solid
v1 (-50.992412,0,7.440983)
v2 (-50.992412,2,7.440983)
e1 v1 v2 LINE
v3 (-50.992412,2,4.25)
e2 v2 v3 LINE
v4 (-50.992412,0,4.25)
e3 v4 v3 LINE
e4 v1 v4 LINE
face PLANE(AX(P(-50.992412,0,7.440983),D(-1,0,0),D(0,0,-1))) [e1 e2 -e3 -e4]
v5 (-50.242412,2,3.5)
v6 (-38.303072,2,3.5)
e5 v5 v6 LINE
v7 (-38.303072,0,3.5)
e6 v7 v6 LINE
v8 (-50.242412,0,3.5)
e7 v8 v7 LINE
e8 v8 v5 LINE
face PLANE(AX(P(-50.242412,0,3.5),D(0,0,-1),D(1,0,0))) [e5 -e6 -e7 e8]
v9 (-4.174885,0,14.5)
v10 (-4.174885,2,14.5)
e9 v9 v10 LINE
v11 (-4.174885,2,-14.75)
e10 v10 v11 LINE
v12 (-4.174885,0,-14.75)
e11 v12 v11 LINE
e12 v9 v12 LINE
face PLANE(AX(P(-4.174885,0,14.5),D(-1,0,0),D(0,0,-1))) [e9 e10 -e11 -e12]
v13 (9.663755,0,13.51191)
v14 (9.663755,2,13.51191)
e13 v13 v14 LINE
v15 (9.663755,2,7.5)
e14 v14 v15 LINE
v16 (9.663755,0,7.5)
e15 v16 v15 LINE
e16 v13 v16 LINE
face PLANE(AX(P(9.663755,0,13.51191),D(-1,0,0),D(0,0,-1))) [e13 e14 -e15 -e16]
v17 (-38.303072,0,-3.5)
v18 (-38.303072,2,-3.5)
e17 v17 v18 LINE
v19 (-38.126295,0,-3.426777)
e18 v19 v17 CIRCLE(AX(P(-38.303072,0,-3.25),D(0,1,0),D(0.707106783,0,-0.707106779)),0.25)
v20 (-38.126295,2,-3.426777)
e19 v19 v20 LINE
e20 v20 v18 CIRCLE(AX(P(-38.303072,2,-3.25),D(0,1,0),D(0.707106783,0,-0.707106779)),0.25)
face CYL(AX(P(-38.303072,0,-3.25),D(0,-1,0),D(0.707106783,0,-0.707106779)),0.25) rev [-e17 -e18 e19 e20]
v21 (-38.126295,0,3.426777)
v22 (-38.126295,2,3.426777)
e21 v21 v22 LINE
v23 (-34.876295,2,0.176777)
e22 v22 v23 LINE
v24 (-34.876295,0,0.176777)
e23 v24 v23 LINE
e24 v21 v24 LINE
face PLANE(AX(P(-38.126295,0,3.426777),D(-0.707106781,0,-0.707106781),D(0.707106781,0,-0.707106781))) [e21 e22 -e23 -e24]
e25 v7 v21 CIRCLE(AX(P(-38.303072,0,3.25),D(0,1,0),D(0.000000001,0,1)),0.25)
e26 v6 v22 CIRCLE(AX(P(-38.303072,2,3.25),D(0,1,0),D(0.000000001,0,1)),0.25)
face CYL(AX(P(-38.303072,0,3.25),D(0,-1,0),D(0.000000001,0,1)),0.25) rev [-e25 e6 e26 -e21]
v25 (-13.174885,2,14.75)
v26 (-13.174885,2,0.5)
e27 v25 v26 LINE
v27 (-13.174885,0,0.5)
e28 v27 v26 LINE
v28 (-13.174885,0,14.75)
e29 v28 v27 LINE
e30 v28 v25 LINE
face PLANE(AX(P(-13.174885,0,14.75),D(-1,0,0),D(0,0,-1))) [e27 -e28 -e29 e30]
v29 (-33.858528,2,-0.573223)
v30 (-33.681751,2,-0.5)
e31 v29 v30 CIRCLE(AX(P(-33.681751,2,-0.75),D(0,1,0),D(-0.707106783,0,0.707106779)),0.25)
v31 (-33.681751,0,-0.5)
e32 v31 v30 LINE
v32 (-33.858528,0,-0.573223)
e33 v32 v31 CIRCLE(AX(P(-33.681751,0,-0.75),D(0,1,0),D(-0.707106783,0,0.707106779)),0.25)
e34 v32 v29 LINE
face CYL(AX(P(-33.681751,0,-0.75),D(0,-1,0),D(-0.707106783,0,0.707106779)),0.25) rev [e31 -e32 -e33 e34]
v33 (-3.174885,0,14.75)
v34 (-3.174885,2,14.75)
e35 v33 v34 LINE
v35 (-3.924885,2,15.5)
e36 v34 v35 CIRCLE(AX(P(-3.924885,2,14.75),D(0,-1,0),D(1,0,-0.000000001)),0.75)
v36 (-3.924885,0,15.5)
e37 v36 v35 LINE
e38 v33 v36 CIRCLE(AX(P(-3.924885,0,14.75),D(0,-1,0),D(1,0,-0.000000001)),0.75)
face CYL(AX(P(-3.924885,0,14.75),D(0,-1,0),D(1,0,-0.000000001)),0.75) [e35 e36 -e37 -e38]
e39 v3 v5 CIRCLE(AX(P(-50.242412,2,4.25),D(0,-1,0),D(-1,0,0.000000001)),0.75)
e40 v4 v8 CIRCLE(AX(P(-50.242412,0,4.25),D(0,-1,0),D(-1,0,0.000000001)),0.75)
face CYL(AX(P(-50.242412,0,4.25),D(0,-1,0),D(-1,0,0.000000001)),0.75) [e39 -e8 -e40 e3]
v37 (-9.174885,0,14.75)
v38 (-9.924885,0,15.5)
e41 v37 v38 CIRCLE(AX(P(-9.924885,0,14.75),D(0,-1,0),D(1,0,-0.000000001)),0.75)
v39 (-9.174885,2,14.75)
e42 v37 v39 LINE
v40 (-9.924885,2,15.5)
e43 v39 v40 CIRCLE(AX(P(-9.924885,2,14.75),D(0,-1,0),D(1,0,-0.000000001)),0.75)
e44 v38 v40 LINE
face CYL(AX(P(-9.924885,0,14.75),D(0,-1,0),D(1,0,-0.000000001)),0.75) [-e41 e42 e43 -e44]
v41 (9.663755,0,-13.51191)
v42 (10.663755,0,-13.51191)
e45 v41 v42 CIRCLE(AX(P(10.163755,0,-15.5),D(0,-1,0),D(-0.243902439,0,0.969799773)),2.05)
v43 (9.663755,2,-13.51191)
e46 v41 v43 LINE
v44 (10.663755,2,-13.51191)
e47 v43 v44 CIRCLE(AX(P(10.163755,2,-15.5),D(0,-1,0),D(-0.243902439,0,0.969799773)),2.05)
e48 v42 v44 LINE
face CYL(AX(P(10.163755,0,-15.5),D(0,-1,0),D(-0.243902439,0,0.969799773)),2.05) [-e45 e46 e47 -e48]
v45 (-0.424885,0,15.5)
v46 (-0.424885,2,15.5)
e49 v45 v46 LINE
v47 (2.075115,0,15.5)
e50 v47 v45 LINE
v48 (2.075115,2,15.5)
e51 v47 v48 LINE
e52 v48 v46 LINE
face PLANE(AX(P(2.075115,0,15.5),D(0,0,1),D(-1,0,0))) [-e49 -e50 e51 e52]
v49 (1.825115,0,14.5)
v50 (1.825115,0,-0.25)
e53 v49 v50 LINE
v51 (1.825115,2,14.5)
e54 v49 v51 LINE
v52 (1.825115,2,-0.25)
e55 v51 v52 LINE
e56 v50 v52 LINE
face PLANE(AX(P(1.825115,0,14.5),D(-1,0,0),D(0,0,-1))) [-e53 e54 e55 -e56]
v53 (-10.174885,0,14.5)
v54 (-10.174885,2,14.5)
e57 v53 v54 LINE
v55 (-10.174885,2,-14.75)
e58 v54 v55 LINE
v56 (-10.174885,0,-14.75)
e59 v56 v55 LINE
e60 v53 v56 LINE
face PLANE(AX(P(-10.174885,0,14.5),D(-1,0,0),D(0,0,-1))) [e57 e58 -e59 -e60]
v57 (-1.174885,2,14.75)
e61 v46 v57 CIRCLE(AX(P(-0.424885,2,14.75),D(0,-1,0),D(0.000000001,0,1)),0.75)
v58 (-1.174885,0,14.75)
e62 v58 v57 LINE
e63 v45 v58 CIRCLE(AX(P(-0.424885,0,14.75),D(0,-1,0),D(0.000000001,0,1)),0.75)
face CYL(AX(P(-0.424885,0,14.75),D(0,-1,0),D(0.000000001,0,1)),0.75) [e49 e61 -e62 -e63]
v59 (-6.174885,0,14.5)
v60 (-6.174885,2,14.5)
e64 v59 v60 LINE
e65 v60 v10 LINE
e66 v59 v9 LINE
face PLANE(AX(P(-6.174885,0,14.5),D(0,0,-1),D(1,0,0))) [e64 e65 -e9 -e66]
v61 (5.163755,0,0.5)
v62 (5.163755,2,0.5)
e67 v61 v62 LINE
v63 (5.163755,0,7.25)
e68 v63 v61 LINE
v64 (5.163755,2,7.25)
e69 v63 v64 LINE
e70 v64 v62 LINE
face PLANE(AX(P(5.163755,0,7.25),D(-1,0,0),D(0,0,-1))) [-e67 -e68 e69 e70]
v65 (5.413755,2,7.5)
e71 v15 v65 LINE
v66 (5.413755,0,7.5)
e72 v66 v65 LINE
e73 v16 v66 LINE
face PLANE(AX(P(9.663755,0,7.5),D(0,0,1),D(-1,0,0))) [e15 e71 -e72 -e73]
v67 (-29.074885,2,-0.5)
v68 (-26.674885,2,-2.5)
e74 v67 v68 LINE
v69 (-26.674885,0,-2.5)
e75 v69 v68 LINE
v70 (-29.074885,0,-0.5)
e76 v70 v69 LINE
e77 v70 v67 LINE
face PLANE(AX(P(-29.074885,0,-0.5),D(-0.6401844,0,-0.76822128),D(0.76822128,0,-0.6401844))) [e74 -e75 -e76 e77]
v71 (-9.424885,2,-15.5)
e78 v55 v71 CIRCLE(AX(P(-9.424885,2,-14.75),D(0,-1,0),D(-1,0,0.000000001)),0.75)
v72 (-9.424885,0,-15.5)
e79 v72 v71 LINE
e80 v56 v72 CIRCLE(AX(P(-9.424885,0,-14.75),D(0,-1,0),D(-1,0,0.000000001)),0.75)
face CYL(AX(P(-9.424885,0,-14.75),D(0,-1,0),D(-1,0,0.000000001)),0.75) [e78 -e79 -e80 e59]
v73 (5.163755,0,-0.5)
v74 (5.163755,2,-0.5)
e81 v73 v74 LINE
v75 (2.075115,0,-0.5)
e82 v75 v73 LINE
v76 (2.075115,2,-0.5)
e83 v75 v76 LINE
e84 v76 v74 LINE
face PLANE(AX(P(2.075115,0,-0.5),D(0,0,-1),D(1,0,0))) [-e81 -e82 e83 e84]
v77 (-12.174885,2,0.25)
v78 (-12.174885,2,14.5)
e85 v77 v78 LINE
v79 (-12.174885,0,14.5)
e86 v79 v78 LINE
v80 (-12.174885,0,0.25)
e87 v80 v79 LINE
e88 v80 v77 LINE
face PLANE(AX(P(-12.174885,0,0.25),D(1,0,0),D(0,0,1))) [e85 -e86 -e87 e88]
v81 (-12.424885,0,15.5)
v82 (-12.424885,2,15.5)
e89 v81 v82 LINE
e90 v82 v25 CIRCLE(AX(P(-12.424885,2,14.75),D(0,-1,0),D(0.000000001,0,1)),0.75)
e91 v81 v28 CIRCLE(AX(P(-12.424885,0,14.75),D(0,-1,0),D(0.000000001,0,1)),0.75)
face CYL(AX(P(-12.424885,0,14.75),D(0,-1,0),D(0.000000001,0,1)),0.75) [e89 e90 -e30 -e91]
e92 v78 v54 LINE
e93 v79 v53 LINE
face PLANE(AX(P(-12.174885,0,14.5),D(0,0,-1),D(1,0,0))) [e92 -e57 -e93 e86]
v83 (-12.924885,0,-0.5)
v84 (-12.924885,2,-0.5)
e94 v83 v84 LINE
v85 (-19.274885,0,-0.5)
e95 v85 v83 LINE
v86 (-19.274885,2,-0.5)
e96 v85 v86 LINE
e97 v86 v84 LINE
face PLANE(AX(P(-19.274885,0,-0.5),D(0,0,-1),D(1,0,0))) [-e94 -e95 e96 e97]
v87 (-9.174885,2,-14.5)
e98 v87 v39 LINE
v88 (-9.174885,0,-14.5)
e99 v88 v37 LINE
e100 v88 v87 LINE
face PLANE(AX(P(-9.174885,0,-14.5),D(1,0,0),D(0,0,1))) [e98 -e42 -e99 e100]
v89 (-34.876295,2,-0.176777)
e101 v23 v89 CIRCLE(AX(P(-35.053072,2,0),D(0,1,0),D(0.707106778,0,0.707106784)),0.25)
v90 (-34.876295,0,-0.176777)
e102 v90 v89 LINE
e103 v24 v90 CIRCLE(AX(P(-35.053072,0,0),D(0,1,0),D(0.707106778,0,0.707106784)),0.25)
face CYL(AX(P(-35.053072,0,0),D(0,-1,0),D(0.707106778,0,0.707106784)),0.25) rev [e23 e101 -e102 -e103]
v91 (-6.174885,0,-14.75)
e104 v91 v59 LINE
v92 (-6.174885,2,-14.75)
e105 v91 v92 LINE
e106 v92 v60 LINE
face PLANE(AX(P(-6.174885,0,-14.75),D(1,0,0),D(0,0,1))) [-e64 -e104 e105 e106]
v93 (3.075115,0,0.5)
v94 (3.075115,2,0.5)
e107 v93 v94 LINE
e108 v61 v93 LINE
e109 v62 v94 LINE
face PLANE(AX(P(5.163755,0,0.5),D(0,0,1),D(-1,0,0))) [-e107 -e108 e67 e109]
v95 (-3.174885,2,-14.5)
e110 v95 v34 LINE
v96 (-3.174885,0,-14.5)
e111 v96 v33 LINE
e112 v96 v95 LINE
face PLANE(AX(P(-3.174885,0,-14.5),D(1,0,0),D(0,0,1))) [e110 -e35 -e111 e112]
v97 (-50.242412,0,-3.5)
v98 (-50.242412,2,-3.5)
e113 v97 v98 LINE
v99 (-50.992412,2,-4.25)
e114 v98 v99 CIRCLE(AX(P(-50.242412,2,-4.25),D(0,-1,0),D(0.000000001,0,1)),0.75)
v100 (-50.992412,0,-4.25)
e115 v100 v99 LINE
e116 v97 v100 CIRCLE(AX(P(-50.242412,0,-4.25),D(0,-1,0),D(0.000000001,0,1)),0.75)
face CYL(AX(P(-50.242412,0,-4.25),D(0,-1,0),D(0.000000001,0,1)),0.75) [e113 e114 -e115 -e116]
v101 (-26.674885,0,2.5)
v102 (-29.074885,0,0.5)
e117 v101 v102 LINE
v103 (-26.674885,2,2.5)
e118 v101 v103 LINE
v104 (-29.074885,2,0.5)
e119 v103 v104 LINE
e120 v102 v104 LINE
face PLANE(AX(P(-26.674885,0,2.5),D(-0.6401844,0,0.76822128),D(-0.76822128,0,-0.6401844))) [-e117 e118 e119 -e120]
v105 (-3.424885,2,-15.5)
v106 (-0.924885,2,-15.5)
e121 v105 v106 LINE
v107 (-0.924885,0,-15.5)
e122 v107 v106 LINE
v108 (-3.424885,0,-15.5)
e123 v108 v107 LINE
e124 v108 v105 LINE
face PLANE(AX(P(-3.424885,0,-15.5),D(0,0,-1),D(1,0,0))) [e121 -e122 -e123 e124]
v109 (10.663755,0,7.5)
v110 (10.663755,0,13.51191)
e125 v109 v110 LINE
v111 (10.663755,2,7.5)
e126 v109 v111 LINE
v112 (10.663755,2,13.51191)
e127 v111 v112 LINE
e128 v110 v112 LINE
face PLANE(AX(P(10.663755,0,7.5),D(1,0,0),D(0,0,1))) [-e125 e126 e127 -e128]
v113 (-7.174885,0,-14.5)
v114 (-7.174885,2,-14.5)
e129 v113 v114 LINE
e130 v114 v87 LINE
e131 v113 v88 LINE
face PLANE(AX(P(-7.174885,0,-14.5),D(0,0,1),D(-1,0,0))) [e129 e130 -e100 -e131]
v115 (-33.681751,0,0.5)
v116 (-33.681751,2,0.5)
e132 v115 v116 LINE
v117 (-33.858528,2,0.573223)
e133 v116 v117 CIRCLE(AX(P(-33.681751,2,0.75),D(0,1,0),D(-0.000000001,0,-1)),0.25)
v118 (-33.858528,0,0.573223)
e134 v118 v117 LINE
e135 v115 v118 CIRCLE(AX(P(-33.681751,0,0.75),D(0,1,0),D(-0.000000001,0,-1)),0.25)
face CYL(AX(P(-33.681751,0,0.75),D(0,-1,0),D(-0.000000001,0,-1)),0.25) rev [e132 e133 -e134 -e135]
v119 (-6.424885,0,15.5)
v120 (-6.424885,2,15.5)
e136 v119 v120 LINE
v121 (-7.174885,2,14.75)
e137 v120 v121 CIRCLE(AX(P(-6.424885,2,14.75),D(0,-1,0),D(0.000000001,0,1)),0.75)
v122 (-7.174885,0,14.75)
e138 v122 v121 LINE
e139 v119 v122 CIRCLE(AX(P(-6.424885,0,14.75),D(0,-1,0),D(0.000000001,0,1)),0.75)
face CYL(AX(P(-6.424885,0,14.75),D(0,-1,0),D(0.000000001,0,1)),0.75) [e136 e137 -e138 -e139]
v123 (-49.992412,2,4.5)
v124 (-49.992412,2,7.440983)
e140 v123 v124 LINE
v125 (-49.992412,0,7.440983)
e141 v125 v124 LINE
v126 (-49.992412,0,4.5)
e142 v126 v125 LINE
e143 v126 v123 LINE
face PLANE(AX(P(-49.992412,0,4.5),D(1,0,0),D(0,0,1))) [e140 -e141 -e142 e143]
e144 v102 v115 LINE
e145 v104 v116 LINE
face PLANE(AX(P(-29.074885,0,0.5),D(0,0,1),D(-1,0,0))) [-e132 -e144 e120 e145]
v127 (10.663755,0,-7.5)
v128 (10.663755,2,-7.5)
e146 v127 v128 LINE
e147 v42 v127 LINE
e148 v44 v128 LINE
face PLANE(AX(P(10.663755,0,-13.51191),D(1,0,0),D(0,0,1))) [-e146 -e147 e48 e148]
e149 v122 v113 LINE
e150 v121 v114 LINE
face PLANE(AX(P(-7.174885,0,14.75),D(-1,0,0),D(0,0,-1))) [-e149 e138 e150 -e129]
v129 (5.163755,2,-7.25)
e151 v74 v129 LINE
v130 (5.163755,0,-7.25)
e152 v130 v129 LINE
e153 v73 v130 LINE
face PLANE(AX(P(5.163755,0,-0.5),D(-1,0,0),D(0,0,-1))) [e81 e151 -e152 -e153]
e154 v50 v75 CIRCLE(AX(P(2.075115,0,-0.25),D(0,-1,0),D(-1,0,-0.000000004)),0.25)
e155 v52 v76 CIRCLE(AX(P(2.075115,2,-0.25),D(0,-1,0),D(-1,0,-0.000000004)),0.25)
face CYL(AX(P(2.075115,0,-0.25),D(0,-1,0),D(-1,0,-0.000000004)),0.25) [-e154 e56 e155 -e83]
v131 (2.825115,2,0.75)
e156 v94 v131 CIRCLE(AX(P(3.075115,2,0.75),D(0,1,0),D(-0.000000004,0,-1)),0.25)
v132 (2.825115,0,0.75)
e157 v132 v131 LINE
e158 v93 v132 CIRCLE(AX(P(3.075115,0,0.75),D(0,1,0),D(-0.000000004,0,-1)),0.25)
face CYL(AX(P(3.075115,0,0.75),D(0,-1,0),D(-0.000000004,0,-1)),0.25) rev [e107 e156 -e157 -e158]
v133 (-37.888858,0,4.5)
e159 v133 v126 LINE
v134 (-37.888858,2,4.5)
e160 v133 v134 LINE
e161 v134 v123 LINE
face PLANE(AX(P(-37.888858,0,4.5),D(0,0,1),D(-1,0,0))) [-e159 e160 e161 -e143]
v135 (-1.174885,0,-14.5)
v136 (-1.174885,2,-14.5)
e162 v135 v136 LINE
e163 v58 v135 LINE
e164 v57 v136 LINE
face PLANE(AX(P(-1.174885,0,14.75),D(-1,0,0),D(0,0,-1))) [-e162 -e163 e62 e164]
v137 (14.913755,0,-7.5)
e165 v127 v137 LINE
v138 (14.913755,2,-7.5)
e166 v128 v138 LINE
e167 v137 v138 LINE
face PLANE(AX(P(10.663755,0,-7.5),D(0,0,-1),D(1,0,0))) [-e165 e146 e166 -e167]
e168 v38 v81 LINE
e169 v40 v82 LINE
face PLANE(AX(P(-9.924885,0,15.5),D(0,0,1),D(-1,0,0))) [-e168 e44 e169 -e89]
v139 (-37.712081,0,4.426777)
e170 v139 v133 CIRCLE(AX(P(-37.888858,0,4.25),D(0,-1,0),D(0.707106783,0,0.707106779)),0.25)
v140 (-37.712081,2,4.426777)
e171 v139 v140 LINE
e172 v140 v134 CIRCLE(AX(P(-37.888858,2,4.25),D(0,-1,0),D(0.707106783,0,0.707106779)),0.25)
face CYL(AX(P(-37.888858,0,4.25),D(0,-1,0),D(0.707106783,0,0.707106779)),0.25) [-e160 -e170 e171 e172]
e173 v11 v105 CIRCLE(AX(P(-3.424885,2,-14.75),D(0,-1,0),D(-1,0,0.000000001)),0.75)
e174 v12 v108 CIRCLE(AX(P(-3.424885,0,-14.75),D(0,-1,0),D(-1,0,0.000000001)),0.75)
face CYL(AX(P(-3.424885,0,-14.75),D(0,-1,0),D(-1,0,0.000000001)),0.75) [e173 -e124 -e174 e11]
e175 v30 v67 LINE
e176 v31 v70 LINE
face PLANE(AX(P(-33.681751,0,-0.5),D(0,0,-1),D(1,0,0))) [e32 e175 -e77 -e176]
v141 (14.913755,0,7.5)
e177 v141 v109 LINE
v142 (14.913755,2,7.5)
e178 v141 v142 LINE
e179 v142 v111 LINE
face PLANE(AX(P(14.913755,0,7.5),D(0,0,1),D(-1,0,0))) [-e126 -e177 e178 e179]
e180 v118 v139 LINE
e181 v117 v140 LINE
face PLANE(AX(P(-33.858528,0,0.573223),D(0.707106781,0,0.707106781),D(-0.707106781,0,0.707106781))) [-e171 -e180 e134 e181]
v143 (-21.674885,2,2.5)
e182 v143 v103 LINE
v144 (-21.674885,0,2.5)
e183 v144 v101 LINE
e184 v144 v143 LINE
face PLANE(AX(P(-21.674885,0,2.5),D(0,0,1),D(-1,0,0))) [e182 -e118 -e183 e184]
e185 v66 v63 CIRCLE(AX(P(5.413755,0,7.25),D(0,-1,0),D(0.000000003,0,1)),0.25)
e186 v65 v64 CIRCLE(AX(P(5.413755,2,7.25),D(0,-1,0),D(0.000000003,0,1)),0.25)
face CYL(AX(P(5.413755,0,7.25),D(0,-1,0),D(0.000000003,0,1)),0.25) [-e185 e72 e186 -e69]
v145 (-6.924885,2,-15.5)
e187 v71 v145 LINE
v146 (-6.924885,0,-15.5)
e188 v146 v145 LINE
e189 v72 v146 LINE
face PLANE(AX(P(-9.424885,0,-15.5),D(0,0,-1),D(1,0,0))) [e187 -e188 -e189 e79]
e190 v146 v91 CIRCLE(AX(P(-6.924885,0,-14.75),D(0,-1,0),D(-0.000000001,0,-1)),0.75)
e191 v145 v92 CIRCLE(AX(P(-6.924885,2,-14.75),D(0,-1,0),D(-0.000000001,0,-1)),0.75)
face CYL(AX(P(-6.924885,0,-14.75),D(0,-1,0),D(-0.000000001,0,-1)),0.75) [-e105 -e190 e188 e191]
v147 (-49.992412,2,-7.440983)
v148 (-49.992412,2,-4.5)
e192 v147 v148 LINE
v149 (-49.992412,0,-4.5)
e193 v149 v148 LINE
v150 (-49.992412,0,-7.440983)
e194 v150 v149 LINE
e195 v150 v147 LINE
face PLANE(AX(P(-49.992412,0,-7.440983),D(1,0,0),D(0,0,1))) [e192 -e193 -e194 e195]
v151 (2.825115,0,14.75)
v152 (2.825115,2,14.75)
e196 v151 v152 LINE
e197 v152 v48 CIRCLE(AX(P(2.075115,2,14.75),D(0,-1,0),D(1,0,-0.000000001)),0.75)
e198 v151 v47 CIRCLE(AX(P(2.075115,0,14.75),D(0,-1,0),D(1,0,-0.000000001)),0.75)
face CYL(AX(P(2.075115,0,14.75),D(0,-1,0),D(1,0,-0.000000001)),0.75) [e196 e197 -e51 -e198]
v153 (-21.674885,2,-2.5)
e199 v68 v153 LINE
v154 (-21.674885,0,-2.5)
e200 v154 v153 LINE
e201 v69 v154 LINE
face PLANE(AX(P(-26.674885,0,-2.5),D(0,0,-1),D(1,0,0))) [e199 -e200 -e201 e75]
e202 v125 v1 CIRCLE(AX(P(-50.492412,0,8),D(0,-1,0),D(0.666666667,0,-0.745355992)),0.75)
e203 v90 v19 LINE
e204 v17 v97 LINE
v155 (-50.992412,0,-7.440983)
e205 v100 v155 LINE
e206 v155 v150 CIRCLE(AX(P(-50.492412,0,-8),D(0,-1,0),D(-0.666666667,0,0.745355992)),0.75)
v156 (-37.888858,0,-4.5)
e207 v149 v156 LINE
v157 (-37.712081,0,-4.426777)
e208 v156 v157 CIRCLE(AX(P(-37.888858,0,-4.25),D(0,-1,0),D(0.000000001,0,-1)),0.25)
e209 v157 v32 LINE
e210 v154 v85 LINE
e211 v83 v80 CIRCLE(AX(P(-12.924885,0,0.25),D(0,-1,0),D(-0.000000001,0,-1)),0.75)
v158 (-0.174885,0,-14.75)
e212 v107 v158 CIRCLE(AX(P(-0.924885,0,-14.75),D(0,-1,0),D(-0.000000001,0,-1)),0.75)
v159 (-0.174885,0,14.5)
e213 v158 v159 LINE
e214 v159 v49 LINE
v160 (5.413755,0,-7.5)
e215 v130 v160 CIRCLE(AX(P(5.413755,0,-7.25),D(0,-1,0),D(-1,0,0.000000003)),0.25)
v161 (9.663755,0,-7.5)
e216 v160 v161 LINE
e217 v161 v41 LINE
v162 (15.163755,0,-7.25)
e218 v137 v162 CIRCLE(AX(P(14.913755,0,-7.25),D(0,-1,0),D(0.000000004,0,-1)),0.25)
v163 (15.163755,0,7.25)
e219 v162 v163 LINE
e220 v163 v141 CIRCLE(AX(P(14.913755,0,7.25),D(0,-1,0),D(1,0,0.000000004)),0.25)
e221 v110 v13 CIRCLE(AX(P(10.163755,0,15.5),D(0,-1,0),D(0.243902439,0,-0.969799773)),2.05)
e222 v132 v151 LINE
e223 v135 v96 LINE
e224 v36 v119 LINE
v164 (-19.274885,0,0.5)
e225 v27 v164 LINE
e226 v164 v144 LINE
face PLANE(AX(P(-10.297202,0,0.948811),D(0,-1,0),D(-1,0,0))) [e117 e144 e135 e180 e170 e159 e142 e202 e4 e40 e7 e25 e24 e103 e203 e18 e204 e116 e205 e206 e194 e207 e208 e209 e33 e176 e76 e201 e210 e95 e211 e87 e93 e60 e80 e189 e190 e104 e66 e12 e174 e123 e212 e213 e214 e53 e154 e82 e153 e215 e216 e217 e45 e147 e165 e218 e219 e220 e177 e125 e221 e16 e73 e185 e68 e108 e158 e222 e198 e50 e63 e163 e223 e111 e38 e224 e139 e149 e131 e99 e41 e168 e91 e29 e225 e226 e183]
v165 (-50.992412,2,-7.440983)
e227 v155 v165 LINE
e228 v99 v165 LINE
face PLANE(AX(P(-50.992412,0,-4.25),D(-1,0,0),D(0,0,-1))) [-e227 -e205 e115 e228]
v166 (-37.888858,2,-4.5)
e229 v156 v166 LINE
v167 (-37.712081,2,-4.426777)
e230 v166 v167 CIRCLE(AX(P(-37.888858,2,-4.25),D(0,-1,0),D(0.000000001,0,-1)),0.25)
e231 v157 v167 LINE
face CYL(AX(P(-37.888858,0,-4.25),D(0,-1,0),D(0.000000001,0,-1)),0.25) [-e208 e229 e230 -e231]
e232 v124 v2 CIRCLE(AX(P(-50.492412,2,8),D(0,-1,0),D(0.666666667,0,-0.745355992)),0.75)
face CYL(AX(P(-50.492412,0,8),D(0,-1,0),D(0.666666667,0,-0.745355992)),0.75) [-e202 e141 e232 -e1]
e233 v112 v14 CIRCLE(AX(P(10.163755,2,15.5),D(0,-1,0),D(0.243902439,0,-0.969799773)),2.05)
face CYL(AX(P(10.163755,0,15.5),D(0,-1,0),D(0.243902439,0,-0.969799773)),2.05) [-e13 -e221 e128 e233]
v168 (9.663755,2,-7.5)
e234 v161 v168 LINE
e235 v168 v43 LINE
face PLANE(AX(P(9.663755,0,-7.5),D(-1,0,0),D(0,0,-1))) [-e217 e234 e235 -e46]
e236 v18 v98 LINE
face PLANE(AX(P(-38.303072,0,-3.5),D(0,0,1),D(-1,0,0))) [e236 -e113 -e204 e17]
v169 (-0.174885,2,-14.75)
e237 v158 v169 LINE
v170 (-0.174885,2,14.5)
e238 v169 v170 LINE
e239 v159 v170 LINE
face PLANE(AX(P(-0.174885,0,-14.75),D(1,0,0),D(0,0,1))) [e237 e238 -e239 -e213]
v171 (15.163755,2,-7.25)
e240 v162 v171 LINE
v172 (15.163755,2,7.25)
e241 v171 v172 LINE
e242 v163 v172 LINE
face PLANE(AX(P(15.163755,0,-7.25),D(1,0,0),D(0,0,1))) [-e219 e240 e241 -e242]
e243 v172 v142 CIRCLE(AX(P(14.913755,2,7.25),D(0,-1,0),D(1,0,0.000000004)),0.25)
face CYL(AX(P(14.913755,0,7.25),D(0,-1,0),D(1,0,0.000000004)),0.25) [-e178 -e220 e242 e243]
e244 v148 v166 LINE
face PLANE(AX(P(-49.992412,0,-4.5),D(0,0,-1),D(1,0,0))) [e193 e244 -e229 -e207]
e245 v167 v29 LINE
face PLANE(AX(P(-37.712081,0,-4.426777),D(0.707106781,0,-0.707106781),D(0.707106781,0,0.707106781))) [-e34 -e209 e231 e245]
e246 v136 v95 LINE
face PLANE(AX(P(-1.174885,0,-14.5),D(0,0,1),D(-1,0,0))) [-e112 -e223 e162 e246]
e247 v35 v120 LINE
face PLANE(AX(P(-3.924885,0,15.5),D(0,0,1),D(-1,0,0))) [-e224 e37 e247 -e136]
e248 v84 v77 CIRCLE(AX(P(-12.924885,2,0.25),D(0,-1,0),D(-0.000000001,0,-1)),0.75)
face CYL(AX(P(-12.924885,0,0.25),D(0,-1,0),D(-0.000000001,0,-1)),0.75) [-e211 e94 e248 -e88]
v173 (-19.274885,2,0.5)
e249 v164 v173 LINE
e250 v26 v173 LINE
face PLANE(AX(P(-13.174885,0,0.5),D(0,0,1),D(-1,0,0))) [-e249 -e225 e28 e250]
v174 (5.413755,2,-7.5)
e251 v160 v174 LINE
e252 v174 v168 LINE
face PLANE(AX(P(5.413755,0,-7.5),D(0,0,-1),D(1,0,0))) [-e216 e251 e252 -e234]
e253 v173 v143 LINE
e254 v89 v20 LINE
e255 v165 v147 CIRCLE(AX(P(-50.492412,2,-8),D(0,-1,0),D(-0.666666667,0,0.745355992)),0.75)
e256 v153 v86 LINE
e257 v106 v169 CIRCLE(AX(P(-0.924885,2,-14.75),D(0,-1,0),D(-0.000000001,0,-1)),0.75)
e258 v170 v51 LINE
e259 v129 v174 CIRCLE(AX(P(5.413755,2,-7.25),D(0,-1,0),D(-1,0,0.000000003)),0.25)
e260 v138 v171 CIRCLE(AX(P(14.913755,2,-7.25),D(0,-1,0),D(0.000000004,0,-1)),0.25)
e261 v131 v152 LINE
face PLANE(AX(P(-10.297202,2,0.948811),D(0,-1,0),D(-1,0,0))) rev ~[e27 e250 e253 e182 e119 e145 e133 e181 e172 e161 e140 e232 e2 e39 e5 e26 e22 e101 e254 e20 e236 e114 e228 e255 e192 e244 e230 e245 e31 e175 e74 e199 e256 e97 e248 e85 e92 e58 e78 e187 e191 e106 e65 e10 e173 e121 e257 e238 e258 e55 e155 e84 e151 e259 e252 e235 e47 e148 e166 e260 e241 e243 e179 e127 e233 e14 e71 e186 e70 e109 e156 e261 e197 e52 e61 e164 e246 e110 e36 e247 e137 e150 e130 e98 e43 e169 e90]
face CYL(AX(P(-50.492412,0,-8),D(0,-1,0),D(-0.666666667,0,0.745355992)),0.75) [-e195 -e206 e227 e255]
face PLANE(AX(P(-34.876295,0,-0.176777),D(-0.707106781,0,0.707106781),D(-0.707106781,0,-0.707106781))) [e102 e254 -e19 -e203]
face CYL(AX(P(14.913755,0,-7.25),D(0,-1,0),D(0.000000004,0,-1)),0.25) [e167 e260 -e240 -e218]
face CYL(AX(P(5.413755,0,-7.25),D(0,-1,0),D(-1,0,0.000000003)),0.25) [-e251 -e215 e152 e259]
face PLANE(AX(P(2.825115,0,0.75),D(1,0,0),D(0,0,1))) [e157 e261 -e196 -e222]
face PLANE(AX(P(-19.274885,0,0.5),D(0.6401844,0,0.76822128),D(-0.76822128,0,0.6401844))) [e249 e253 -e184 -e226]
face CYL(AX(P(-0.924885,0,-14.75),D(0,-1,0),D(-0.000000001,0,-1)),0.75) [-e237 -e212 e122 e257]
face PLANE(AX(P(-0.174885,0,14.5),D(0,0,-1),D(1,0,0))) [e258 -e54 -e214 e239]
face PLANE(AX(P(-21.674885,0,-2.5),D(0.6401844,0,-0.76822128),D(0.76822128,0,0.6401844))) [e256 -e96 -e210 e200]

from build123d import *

# Parameters (mm, degrees)
BOSS_EXTRUDE1_DEPTH = 2


with BuildPart() as part:
    # Sketch2 → Boss-Extrude1 (new body)
    with BuildSketch(Plane(origin=(0, 0, 0), x_dir=(1, 0, 0), z_dir=(0, 1, 0))):
        with BuildLine():
            Line((15.163755459, 7.25), (15.163755459, -7.25))
            ThreePointArc((15.163755459, -7.25), (15.090532154, -7.426776695), (14.913755459, -7.5))
            Line((14.913755459, -7.5), (10.663755459, -7.5))
            Line((10.663755459, -7.5), (10.663755459, -13.511910465))
            ThreePointArc((10.663755459, -13.511910465), (10.163755459, -17.55), (9.663755459, -13.511910465))
            Line((9.663755459, -13.511910465), (9.663755459, -7.5))
            Line((9.663755459, -7.5), (5.413755459, -7.5))
            ThreePointArc((5.413755459, -7.5), (5.236978763, -7.426776695), (5.163755459, -7.25))
            Line((5.163755459, -7.25), (5.163755459, -0.5))
            Line((5.163755459, -0.5), (3.075114856, -0.5))
            ThreePointArc((3.075114856, -0.5), (2.898338161, -0.573223305), (2.825114856, -0.75))
            Line((2.825114856, -0.75), (2.825114856, -14.75))
            ThreePointArc((2.825114856, -14.75), (2.605444942, -15.280330086), (2.075114856, -15.5))
            Line((2.075114856, -15.5), (-0.424885144, -15.5))
            ThreePointArc((-0.424885144, -15.5), (-0.95521523, -15.280330086), (-1.174885144, -14.75))
            Line((-1.174885144, -14.75), (-1.174885144, 14.5))
            Line((-1.174885144, 14.5), (-3.174885144, 14.5))
            Line((-3.174885144, 14.5), (-3.174885144, -14.75))
            ThreePointArc((-3.174885144, -14.75), (-3.394555058, -15.280330086), (-3.924885144, -15.5))
            Line((-3.924885144, -15.5), (-6.424885144, -15.5))
            ThreePointArc((-6.424885144, -15.5), (-6.95521523, -15.280330086), (-7.174885144, -14.75))
            Line((-7.174885144, -14.75), (-7.174885144, 14.5))
            Line((-7.174885144, 14.5), (-9.174885144, 14.5))
            Line((-9.174885144, 14.5), (-9.174885144, -14.75))
            ThreePointArc((-9.174885144, -14.75), (-9.394555058, -15.280330086), (-9.924885144, -15.5))
            Line((-9.924885144, -15.5), (-12.424885144, -15.5))
            ThreePointArc((-12.424885144, -15.5), (-12.95521523, -15.280330086), (-13.174885144, -14.75))
            Line((-13.174885144, -14.75), (-13.174885144, -0.5))
            Line((-13.174885144, -0.5), (-19.274885144, -0.5))
            Line((-19.274885144, -0.5), (-21.674885144, -2.5))
            Line((-21.674885144, -2.5), (-26.674885144, -2.5))
            Line((-26.674885144, -2.5), (-29.074885144, -0.5))
            Line((-29.074885144, -0.5), (-33.68175141, -0.5))
            ThreePointArc((-33.68175141, -0.5), (-33.777422268, -0.519030117), (-33.858528105, -0.573223305))
            Line((-33.858528105, -0.573223305), (-37.712081496, -4.426776695))
            ThreePointArc((-37.712081496, -4.426776695), (-37.793187333, -4.480969883), (-37.888858191, -4.5))
            Line((-37.888858191, -4.5), (-46.992411582, -4.5))
            Line((-46.992411582, -4.5), (-49.992411582, -4.5))
            Line((-49.992411582, -4.5), (-49.992411582, -7.440983006))
            ThreePointArc((-49.992411582, -7.440983006), (-50.492411582, -8.75), (-50.992411582, -7.440983006))
            Line((-50.992411582, -7.440983006), (-50.992411582, -4.25))
            ThreePointArc((-50.992411582, -4.25), (-50.772741668, -3.719669914), (-50.242411582, -3.5))
            Line((-50.242411582, -3.5), (-38.303071753, -3.5))
            ThreePointArc((-38.303071753, -3.5), (-38.207400895, -3.480969883), (-38.126295058, -3.426776695))
            Line((-38.126295058, -3.426776695), (-34.876295058, -0.176776695))
            ThreePointArc((-34.876295058, -0.176776695), (-34.803071753, 0), (-34.876295058, 0.176776695))
            Line((-34.876295058, 0.176776695), (-38.126295058, 3.426776695))
            ThreePointArc((-38.126295058, 3.426776695), (-38.207400895, 3.480969883), (-38.303071753, 3.5))
            Line((-38.303071753, 3.5), (-46.242411582, 3.5))
            Line((-46.242411582, 3.5), (-50.242411582, 3.5))
            ThreePointArc((-50.242411582, 3.5), (-50.772741668, 3.719669914), (-50.992411582, 4.25))
            Line((-50.992411582, 4.25), (-50.992411582, 7.440983006))
            ThreePointArc((-50.992411582, 7.440983006), (-50.492411582, 8.75), (-49.992411582, 7.440983006))
            Line((-49.992411582, 7.440983006), (-49.992411582, 4.5))
            Line((-49.992411582, 4.5), (-46.992411582, 4.5))
            Line((-46.992411582, 4.5), (-37.888858191, 4.5))
            ThreePointArc((-37.888858191, 4.5), (-37.793187333, 4.480969883), (-37.712081496, 4.426776695))
            Line((-37.712081496, 4.426776695), (-33.858528105, 0.573223305))
            ThreePointArc((-33.858528105, 0.573223305), (-33.777422268, 0.519030117), (-33.68175141, 0.5))
            Line((-33.68175141, 0.5), (-29.074885144, 0.5))
            Line((-29.074885144, 0.5), (-26.674885144, 2.5))
            Line((-26.674885144, 2.5), (-21.674885144, 2.5))
            Line((-21.674885144, 2.5), (-19.274885144, 0.5))
            Line((-19.274885144, 0.5), (-12.924885144, 0.5))
            ThreePointArc((-12.924885144, 0.5), (-12.394555058, 0.280330086), (-12.174885144, -0.25))
            Line((-12.174885144, -0.25), (-12.174885144, -14.5))
            Line((-12.174885144, -14.5), (-10.174885144, -14.5))
            Line((-10.174885144, -14.5), (-10.174885144, 14.75))
            ThreePointArc((-10.174885144, 14.75), (-9.95521523, 15.280330086), (-9.424885144, 15.5))
            Line((-9.424885144, 15.5), (-6.924885144, 15.5))
            ThreePointArc((-6.924885144, 15.5), (-6.394555058, 15.280330086), (-6.174885144, 14.75))
            Line((-6.174885144, 14.75), (-6.174885144, -14.5))
            Line((-6.174885144, -14.5), (-4.174885144, -14.5))
            Line((-4.174885144, -14.5), (-4.174885144, 14.75))
            ThreePointArc((-4.174885144, 14.75), (-3.95521523, 15.280330086), (-3.424885144, 15.5))
            Line((-3.424885144, 15.5), (-0.924885144, 15.5))
            ThreePointArc((-0.924885144, 15.5), (-0.394555058, 15.280330086), (-0.174885144, 14.75))
            Line((-0.174885144, 14.75), (-0.174885144, -14.5))
            Line((-0.174885144, -14.5), (1.825114856, -14.5))
            Line((1.825114856, -14.5), (1.825114856, 0.25))
            ThreePointArc((1.825114856, 0.25), (1.898338161, 0.426776695), (2.075114856, 0.5))
            Line((2.075114856, 0.5), (5.163755459, 0.5))
            Line((5.163755459, 0.5), (5.163755459, 7.25))
            ThreePointArc((5.163755459, 7.25), (5.236978763, 7.426776695), (5.413755459, 7.5))
            Line((5.413755459, 7.5), (9.663755459, 7.5))
            Line((9.663755459, 7.5), (9.663755459, 13.511910465))
            ThreePointArc((9.663755459, 13.511910465), (10.163755459, 17.55), (10.663755459, 13.511910465))
            Line((10.663755459, 13.511910465), (10.663755459, 7.5))
            Line((10.663755459, 7.5), (14.913755459, 7.5))
            ThreePointArc((14.913755459, 7.5), (15.090532154, 7.426776695), (15.163755459, 7.25))
        make_face()
    extrude(amount=BOSS_EXTRUDE1_DEPTH)


solid = part.part
